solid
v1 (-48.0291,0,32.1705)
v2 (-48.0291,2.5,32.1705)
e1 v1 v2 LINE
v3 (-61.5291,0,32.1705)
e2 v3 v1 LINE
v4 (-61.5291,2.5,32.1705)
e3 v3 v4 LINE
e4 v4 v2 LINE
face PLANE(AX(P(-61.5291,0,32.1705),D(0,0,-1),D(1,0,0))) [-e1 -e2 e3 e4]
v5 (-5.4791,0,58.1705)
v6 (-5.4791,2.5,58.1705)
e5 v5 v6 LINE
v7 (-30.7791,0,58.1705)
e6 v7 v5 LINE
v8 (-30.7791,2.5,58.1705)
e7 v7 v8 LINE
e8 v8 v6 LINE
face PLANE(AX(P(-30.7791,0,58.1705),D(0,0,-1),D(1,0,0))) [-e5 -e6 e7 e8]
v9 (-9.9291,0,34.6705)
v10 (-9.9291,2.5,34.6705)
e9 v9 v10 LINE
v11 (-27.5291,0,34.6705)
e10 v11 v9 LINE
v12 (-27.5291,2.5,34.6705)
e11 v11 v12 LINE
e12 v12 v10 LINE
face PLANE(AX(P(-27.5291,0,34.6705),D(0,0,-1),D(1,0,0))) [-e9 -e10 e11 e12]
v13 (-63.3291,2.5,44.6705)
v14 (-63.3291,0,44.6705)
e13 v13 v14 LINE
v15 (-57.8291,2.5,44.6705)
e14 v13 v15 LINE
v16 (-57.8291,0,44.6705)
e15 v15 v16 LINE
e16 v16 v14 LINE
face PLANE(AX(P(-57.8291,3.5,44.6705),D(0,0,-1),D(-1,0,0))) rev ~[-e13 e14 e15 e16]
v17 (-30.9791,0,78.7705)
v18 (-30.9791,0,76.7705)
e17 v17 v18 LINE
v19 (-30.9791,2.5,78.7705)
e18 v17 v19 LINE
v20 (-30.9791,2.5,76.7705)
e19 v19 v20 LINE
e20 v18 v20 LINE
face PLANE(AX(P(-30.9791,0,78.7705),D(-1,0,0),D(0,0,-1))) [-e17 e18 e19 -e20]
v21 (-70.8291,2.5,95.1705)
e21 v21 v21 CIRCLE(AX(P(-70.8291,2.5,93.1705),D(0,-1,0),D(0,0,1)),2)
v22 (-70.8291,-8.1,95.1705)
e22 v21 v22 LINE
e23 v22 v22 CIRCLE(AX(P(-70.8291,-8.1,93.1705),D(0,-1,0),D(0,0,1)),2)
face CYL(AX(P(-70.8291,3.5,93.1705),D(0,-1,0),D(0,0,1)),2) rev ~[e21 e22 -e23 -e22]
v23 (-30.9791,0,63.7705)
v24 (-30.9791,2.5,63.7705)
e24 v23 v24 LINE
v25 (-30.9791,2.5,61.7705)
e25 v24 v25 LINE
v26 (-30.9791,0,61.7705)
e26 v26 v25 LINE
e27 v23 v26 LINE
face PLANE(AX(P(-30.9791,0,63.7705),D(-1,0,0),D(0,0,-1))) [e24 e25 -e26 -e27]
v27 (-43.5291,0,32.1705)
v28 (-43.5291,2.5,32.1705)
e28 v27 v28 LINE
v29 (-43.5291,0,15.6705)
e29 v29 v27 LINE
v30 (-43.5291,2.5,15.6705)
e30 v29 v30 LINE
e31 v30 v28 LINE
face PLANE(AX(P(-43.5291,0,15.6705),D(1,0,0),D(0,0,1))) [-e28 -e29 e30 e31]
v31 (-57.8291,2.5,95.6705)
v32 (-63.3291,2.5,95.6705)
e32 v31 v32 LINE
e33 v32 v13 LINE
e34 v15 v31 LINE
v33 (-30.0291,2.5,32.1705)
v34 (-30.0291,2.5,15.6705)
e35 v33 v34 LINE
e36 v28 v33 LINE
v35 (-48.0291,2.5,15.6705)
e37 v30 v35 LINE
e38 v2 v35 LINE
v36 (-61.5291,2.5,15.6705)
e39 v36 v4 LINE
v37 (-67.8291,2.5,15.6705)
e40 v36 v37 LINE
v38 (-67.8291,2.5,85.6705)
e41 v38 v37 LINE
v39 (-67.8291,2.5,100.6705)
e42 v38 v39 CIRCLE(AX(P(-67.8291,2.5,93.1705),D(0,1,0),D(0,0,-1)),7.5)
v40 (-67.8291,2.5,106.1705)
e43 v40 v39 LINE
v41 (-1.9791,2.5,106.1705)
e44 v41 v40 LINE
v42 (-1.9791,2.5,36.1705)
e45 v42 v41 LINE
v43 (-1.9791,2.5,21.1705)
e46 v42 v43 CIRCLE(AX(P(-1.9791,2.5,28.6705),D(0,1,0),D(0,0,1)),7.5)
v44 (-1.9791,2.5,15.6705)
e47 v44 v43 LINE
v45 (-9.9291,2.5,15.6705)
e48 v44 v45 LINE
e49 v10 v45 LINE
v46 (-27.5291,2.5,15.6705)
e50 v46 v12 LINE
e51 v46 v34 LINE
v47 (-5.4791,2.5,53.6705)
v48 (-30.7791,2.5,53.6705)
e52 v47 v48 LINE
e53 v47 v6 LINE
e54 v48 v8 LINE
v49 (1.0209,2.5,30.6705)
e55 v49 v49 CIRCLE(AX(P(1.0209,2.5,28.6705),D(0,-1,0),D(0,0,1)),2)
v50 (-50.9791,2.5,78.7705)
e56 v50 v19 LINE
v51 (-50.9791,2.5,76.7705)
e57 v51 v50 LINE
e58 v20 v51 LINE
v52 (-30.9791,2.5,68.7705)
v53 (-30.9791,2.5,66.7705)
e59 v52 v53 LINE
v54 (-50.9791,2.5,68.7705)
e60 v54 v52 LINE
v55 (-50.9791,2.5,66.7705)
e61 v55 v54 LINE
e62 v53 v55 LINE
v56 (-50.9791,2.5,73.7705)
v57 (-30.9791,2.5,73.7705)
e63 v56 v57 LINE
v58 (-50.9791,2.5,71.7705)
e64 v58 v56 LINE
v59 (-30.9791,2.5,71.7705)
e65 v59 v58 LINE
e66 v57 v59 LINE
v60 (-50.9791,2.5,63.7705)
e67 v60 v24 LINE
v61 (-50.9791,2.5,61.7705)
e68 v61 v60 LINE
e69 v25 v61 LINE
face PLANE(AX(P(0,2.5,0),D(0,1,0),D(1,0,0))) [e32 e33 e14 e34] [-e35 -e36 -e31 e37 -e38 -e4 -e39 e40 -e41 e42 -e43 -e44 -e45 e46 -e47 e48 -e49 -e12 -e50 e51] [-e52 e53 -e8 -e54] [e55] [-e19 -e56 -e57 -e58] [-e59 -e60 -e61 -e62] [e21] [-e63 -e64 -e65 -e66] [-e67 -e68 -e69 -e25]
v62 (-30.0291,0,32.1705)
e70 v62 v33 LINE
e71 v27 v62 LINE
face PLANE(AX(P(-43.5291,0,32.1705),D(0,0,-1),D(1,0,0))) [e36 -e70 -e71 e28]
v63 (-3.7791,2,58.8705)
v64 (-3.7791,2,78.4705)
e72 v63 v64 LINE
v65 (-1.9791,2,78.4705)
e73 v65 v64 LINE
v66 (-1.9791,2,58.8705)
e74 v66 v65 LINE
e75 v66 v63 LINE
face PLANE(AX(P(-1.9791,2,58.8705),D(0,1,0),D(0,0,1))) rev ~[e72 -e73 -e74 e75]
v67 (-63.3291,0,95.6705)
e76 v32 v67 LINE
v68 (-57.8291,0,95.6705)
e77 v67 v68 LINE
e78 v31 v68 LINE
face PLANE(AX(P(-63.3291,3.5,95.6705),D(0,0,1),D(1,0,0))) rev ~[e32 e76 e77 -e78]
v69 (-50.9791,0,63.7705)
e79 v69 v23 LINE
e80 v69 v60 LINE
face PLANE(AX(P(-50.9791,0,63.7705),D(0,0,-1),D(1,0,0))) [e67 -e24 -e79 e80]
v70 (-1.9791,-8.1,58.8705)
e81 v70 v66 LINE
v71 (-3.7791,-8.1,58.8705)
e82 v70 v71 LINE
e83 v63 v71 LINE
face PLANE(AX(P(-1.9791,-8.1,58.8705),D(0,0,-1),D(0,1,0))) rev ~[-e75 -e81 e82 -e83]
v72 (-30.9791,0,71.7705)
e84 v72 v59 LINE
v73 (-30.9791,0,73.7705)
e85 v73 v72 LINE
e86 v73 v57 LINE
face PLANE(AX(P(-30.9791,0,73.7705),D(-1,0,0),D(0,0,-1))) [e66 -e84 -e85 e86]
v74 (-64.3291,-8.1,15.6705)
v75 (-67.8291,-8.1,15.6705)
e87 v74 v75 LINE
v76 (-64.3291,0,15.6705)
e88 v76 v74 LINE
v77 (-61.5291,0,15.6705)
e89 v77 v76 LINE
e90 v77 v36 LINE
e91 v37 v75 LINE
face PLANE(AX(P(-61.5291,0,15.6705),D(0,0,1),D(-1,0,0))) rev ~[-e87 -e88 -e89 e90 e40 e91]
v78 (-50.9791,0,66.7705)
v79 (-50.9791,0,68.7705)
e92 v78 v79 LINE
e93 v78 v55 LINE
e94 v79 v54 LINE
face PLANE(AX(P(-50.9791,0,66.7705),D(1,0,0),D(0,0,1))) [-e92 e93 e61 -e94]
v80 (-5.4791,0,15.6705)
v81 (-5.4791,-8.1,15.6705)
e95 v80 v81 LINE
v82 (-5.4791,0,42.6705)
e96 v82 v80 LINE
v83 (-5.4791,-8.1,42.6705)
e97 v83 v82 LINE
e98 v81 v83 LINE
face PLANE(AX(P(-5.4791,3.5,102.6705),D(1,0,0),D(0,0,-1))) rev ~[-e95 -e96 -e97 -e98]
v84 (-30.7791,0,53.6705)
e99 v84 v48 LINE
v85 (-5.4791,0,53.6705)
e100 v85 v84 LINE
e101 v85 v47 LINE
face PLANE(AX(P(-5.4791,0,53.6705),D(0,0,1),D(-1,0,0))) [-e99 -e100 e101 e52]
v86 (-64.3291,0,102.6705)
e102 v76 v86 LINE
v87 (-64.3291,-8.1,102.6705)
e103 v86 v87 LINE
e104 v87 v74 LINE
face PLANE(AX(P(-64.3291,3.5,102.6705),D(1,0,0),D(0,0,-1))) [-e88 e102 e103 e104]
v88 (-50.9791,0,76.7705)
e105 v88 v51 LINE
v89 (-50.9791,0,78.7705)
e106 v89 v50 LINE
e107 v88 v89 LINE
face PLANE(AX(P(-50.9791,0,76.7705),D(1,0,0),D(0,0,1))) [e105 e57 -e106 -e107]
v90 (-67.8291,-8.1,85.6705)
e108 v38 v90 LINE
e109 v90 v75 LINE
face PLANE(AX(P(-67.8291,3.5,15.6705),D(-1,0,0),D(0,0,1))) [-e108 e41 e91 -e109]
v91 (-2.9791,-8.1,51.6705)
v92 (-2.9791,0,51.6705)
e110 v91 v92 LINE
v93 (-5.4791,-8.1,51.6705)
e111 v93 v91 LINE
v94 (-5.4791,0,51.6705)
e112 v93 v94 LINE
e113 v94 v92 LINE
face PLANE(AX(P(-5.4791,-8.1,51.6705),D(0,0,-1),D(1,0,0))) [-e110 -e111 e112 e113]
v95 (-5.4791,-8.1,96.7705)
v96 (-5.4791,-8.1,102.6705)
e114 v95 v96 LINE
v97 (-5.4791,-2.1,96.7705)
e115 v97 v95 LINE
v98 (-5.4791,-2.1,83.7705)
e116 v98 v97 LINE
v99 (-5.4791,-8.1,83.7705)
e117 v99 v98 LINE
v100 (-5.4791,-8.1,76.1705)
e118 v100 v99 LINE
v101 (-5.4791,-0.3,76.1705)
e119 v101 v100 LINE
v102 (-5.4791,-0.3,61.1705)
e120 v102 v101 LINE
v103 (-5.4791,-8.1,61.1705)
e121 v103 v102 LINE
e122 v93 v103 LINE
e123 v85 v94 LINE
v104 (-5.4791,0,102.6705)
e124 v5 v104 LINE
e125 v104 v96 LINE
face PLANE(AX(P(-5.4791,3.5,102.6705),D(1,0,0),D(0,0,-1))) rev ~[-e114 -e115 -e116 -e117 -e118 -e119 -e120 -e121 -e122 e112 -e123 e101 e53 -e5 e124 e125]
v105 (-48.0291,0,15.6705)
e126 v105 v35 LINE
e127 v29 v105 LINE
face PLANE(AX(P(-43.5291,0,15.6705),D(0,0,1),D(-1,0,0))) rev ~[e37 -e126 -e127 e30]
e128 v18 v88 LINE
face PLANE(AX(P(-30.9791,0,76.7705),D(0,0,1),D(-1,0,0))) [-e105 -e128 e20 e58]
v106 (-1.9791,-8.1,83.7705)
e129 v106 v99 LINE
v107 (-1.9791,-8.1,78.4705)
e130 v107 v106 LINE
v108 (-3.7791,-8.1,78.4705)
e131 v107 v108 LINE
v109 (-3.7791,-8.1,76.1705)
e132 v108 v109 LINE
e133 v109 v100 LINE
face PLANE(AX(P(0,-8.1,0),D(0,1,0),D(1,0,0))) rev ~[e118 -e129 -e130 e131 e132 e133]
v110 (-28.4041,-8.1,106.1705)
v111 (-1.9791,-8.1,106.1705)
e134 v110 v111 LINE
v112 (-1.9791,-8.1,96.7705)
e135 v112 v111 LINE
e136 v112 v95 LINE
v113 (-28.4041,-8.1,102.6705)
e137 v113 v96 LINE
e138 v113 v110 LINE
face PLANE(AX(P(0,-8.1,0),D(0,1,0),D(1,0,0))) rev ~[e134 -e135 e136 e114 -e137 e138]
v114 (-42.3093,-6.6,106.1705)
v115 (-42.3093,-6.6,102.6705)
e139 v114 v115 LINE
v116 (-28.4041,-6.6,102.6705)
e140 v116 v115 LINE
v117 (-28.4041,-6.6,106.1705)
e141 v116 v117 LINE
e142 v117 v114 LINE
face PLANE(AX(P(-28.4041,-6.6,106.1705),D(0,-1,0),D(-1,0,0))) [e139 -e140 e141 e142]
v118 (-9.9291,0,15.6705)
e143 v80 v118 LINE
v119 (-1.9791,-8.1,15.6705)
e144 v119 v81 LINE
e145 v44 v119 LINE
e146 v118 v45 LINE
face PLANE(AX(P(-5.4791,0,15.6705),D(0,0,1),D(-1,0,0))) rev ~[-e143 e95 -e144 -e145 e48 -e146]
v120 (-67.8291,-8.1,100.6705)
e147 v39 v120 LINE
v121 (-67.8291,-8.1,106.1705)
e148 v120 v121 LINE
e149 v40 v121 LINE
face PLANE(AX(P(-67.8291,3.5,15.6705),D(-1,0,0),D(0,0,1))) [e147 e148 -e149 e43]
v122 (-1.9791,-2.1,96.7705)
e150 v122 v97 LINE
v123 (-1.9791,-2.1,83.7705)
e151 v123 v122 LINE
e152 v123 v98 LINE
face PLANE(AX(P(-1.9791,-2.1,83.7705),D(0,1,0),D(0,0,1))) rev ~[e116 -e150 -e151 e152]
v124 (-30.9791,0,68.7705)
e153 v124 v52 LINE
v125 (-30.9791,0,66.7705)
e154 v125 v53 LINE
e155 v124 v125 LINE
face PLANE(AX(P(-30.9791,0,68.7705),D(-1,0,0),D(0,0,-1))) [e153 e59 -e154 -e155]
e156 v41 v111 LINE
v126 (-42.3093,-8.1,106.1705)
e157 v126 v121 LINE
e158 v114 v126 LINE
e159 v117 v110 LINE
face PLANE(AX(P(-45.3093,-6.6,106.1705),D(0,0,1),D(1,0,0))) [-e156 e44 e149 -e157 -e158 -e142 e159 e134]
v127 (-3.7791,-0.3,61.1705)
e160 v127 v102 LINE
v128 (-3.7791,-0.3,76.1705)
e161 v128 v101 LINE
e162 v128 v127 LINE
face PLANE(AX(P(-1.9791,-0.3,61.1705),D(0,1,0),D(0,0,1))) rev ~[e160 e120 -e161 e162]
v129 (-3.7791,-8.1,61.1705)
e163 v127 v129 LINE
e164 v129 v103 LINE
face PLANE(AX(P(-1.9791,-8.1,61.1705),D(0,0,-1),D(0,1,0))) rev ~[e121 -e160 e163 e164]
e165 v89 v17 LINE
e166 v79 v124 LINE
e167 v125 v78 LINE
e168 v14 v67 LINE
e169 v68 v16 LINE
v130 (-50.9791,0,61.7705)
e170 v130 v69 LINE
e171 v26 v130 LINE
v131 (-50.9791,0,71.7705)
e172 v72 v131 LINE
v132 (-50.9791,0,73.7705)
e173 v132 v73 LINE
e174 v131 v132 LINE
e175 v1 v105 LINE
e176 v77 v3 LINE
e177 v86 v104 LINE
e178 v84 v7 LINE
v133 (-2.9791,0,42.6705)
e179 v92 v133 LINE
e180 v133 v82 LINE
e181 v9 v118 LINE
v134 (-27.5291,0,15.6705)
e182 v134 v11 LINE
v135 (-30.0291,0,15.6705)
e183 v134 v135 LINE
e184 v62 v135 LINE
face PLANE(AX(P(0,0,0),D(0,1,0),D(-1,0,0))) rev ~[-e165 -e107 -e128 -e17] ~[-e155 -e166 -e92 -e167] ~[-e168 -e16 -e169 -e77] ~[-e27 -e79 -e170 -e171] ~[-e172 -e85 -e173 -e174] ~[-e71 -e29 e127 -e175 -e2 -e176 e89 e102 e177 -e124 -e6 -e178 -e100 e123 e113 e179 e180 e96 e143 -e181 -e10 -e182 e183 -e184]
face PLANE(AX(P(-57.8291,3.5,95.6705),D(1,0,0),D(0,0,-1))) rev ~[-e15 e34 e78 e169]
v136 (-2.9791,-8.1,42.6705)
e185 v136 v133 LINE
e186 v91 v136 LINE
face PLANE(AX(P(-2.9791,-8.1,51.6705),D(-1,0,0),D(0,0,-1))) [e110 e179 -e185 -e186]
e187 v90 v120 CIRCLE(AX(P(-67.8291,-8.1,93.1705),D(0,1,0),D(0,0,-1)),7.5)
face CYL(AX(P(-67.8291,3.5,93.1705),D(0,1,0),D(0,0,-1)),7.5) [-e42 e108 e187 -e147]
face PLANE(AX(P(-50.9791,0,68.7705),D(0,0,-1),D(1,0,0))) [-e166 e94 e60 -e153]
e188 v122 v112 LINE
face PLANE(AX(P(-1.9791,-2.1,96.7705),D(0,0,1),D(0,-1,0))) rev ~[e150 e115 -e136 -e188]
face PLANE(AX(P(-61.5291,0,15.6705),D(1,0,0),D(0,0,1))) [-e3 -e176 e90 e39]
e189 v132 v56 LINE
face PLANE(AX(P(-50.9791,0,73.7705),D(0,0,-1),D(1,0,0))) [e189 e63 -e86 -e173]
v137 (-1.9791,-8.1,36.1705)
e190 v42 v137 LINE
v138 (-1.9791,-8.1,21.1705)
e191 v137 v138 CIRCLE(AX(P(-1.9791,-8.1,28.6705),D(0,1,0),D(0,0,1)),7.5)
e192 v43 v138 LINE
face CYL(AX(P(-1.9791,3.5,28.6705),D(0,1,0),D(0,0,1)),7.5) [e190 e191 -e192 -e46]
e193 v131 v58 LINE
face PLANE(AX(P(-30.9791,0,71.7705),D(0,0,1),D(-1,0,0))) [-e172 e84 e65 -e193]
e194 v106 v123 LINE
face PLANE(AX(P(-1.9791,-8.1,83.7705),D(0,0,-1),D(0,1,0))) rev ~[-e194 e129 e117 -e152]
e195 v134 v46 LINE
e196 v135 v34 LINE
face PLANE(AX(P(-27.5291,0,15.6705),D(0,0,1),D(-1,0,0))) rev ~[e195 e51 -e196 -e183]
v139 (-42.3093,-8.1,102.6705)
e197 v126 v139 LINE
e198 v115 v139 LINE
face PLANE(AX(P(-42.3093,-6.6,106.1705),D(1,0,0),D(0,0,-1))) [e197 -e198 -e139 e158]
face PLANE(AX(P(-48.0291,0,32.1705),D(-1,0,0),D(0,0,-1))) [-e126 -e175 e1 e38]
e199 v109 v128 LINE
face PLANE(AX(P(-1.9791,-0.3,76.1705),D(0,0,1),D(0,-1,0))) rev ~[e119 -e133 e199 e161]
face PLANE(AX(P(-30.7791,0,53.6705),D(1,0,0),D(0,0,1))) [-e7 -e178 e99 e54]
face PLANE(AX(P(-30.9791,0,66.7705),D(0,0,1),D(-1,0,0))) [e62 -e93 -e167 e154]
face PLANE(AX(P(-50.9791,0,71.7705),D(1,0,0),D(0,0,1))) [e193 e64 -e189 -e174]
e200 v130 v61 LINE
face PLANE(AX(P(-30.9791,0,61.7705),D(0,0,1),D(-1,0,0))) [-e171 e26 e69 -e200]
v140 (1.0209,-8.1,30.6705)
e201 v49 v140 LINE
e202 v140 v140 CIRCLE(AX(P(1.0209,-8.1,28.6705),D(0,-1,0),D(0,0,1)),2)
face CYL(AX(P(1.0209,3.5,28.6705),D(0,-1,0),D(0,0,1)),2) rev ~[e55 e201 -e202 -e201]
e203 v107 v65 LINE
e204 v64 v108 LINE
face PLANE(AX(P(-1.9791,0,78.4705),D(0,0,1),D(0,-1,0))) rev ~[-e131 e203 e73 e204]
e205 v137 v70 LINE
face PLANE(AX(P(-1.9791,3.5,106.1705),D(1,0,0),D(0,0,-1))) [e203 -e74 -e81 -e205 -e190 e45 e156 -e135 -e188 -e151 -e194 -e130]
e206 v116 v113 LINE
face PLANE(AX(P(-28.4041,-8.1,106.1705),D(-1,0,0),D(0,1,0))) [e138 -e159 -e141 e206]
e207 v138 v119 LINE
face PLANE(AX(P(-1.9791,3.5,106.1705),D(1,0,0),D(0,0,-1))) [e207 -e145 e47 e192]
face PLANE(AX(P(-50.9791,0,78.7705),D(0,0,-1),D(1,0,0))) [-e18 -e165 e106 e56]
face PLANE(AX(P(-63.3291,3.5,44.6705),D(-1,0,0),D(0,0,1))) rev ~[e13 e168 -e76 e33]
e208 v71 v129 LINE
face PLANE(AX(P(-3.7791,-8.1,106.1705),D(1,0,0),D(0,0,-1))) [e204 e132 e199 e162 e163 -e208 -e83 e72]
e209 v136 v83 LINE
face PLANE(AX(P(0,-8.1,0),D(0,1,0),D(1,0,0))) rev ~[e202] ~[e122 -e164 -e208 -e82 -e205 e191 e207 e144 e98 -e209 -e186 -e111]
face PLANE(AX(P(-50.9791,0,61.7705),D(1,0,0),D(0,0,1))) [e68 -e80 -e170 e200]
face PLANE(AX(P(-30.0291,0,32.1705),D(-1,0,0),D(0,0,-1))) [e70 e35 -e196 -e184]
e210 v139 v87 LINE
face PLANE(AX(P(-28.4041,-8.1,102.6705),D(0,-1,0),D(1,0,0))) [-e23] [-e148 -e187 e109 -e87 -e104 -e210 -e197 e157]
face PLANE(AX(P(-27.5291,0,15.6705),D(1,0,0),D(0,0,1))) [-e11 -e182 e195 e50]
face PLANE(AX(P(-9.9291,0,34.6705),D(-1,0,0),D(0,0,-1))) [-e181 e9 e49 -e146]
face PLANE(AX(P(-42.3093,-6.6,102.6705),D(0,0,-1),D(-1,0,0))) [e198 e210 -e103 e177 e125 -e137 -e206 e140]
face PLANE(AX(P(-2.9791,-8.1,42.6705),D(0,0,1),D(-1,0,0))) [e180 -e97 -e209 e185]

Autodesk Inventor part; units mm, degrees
ref_plane "YZ Plane" through (0, 0, 0) normal (1, 0, 0) x (0, 1, 0)
ref_plane "XZ Plane" through (0, 0, 0) normal (0, 1, 0) x (-1, 0, 0)
ref_plane "XY Plane" through (0, 0, 0) normal (0, 0, 1) x (1, 0, 0)
sketch "Skizze1" plane through (0, 0, 0) normal (0, 1, 0) x (-1, 0, 0)
  line L0 (64.3291, 15.6705) -> (64.3291, 102.6705)
  line L1 (64.3291, 102.6705) -> (5.4791, 102.6705)
  line L2 (61.5291, 32.1705) -> (48.0291, 32.1705)
  line L3 (48.0291, 32.1705) -> (48.0291, 15.6705)
  line L4 (61.5291, 15.6705) -> (61.5291, 32.1705)
  line L5 (43.5291, 32.1705) -> (30.0291, 32.1705)
  line L6 (30.0291, 32.1705) -> (30.0291, 15.6705)
  line L7 (30.0291, 15.6705) -> (30.7791, 15.6705)
  line L8 (43.5291, 15.6705) -> (43.5291, 32.1705)
  line L9 (27.5291, 34.6705) -> (9.9291, 34.6705)
  line L10 (9.9291, 34.6705) -> (9.9291, 15.6705)
  line L11 (27.5291, 15.6705) -> (27.5291, 34.6705)
  line L12 (30.7791, 58.1705) -> (5.4791, 58.1705)
  line L13 (5.4791, 53.6705) -> (30.7791, 53.6705)
  line L14 (30.7791, 53.6705) -> (30.7791, 58.1705)
  line L15 (5.4791, 102.6705) -> (5.4791, 58.1705)
  line L16 (5.4791, 53.6705) -> (5.4791, 15.6705)
  line L17 (43.5291, 15.6705) -> (48.0291, 15.6705)
  line L18 (61.5291, 15.6705) -> (64.3291, 15.6705)
  line L19 (50.9791, 78.7705) -> (30.9791, 78.7705)
  line L20 (30.9791, 78.7705) -> (30.9791, 76.7705)
  line L21 (30.9791, 76.7705) -> (50.9791, 76.7705)
  line L22 (50.9791, 76.7705) -> (50.9791, 78.7705)
  line L23 (50.9791, 73.7705) -> (30.9791, 73.7705)
  line L24 (30.9791, 73.7705) -> (30.9791, 71.7705)
  line L25 (30.9791, 71.7705) -> (50.9791, 71.7705)
  line L26 (50.9791, 71.7705) -> (50.9791, 73.7705)
  line L27 (50.9791, 68.7705) -> (30.9791, 68.7705)
  line L28 (30.9791, 68.7705) -> (30.9791, 66.7705)
  line L29 (30.9791, 66.7705) -> (50.9791, 66.7705)
  line L30 (50.9791, 66.7705) -> (50.9791, 68.7705)
  line L31 (50.9791, 63.7705) -> (30.9791, 63.7705)
  line L32 (30.9791, 63.7705) -> (30.9791, 61.7705)
  line L33 (30.9791, 61.7705) -> (50.9791, 61.7705)
  line L34 (50.9791, 61.7705) -> (50.9791, 63.7705)
  line L35 (5.4791, 15.6705) -> (9.9291, 15.6705)
  line L36 (27.5291, 15.6705) -> (30.0291, 15.6705)
  line L37 (5.4791, 58.1705) -> (5.4791, 63.7705)
  line L38 (62.9791, 94.6705) -> (57.4791, 94.6705)
  line L39 (57.4791, 94.6705) -> (57.4791, 41.6705)
  line L40 (57.4791, 41.6705) -> (62.9791, 41.6705)
  line L41 (62.9791, 41.6705) -> (62.9791, 94.6705)
  dimension "d2" = 13.5
  dimension "d3" = 13.5
  dimension "d45" = 2.8
  dimension "d46" = 4.5
  dimension "d47" = 2.5
  dimension "d49" = 42.5
  dimension "d51" = 49
  dimension "d60" = 53
  dimension "d61" = 8
  dimension "d62" = 5.5
  dimension "d63" = 1.35
  dimension "d70" = 87
  dimension "d71" = 87
  dimension "d107" = 4.45
  dimension "d108" = 38
  dimension "d110" = 17.6
  dimension "d141" = 25.3
  dimension "d142" = 19
sketch "Skizze2" plane through (0, 0, 0) normal (0, 1, 0) x (-1, 0, 0)
  point P0 (0, 0)
extrude "Extrusion1" add sketch "Skizze1" along normal blind 3.5 contours L18 L4 L2 L3 L17 L8 L5 L6 L36 L11 L9 L10 L35 L16 L13 L14 L12 L15 L1 L0 | L41 L40 L39 L38
sketch "Skizze3" plane through (0, 0, 0) normal (0, -1, 0) x (1, 0, 0)
  line L0 (-9.9291, 15.6705) -> (-5.4791, 15.6705) projected
  line L1 (-64.3291, 102.6705) -> (-5.4791, 102.6705) projected
  line L2 (-5.4791, 15.6705) -> (-5.4791, 102.6705)
  line L3 (-5.4791, 102.6705) -> (-64.3291, 102.6705)
  line L4 (-64.3291, 102.6705) -> (-64.3291, 15.6705)
  point P0 (0, 0)
sketch "Skizze4" plane through (0, 0, 0) normal (0, -1, 0) x (1, 0, 0)
  line L0 (-30.7791, 53.6705) -> (-5.4791, 53.6705) projected
  line L1 (-5.4791, 53.6705) -> (-5.4791, 15.6705) projected
  line L2 (-5.4791, 15.6705) -> (-5.4791, 102.6705)
  line L3 (-64.3291, 102.6705) -> (-5.4791, 102.6705) projected
  line L4 (-5.4791, 102.6705) -> (-64.3291, 102.6705)
  line L5 (-61.5291, 15.6705) -> (-64.3291, 15.6705) projected
  line L6 (-64.3291, 102.6705) -> (-64.3291, 15.6705)
  point P0 (0, 0)
  point P1 (-5.4791, 68.3705)
  point P2 (-5.4791, 63.3705)
sketch "Skizze5" plane through (0, 3.5, 0) normal (0, 1, 0) x (1, 0, 0)
  point P0 (0, 0)
sketch "Skizze6" plane through (0, 3.5, 0) normal (0, 1, 0) x (1, 0, 0)
  point P0 (0, 0)
sketch "Skizze7" plane through (0, 3.5, 0) normal (0, 1, 0) x (1, 0, 0)
  point P0 (0, 0)
sketch "Skizze8" plane through (0, 3.5, 0) normal (0, 1, 0) x (1, 0, 0)
  point P0 (0, 0)
sketch "Skizze9" plane through (0, 3.5, 0) normal (0, 1, 0) x (1, 0, 0)
  point P0 (0, 0)
sketch "Skizze10" plane through (0, 3.5, 0) normal (0, 1, 0) x (1, 0, 0)
  line L0 (-57.8291, -44.6705) -> (-63.3291, -44.6705)
  line L1 (-63.3291, -44.6705) -> (-63.3291, -95.6705)
  line L2 (-63.3291, -95.6705) -> (-57.8291, -95.6705)
  line L3 (-57.8291, -95.6705) -> (-57.8291, -44.6705)
  line L4 (-64.3291, -102.6705) -> (-5.4791, -102.6705) projected
  line L5 (-64.3291, -15.6705) -> (-64.3291, -102.6705) projected
  point P0 (0, 0)
  dimension "d64" = 51
  dimension "d65" = 5.5
  dimension "d66" = 7
  dimension "d67" = 1
extrude "Extrusion2" cut sketch "Skizze10" against normal through all
sketch "Skizze11" plane through (0, 3.5, 0) normal (0, 1, 0) x (1, 0, 0)
  line L0 (-64.3291, -102.6705) -> (-64.3291, -15.6705) projected
  line L1 (-64.3291, -15.6705) -> (-64.3291, -102.6705) projected
  line L2 (-64.3291, -15.6705) -> (-67.8291, -15.6705)
  line L3 (-67.8291, -15.6705) -> (-67.8291, -106.1705)
  line L4 (-67.8291, -106.1705) -> (-1.9791, -106.1705)
  line L5 (-1.9791, -106.1705) -> (-1.9791, -15.6705)
  line L6 (-1.9791, -15.6705) -> (-5.4791, -15.6705)
  line L7 (-64.3291, -102.6705) -> (-5.4791, -102.6705) projected
  line L8 (-5.4791, -102.6705) -> (-64.3291, -102.6705)
  line L9 (-64.3291, -102.6705) -> (-64.3291, -15.6705)
  line L10 (-64.3291, -15.6705) -> (-64.3291, -102.6705)
  line L11 (-5.4791, -53.6705) -> (-5.4791, -15.6705) projected
  line L12 (-5.4791, -102.6705) -> (-5.4791, -15.6705)
  line L13 (-5.4791, -15.6705) -> (-1.9791, -15.6705)
  point P0 (0, 0)
  dimension "d77" = 3.5
  dimension "d78" = 3.5
  dimension "d79" = 3.5
sketch "Skizze12" plane through (0, 0, 0) normal (0, -1, 0) x (1, 0, 0)
  line L0 (-5.4791, 15.6705) -> (-9.9291, 15.6705) projected
  line L1 (-5.4791, 102.6705) -> (-5.4791, 58.1705) projected
  line L2 (-5.4791, 15.6705) -> (-5.4791, 102.6705)
  line L3 (-5.4791, 102.6705) -> (-64.3291, 102.6705)
  line L4 (-64.3291, 102.6705) -> (-64.3291, 15.6705)
  point P0 (0, 0)
extrude "Extrusion3" add sketch "Skizze11" against normal blind 11.6
sketch "Skizze13" plane through (0, 3.5, 0) normal (0, 1, 0) x (1, 0, 0)
  line L0 (-67.8291, -15.6705) -> (-67.8291, -106.1705) projected
  arc A0 (-67.8291, -85.6705) -> (-67.8291, -100.6705) centre (-67.8291, -93.1705) ccw
  arc A1 (-67.8291, -21.1705) -> (-67.8291, -36.1705) centre (-67.8291, -28.6705) ccw
  arc A2 (-1.9791, -36.1705) -> (-1.9791, -21.1705) centre (-1.9791, -28.6705) ccw
  arc A3 (-1.9791, -100.6705) -> (-1.9791, -85.6705) centre (-1.9791, -93.1705) ccw
  line L1 (-67.8291, -106.1705) -> (-1.9791, -106.1705) projected
  line L2 (-1.9791, -15.6705) -> (-9.9291, -15.6705) projected
  line L3 (-1.9791, -106.1705) -> (-1.9791, -15.6705) projected
  point P0 (0, 0)
  dimension "d82" = 15
  dimension "d83" = 15
  dimension "d84" = 15
  dimension "d85" = 15
  dimension "d86" = 13
  dimension "d87" = 13
  dimension "d88" = 13
  dimension "d89" = 13
extrude "Extrusion4" add sketch "Skizze13" against normal blind 11.6
sketch "Skizze14" plane through (0, 3.5, 0) normal (0, 1, 0) x (1, 0, 0)
  arc A0 (-1.9791, -36.1705) -> (-1.9791, -21.1705) centre (-1.9791, -28.6705) ccw projected
  arc A1 (-1.9791, -100.6705) -> (-1.9791, -85.6705) centre (-1.9791, -93.1705) ccw projected
  arc A2 (-67.8291, -85.6705) -> (-67.8291, -100.6705) centre (-67.8291, -93.1705) ccw projected
  arc A3 (-67.8291, -21.1705) -> (-67.8291, -36.1705) centre (-67.8291, -28.6705) ccw projected
  point P0 (0, 0)
  point P1 (-70.8291, -93.1705)
  point P2 (-70.8291, -28.6705)
  point P3 (1.0209, -93.1705)
  point P4 (1.0209, -28.6705)
  dimension "d92" = 0
  dimension "d93" = 3
  dimension "d94" = 0
  dimension "d95" = 3
  dimension "d96" = 0
  dimension "d97" = 3
  dimension "d98" = 0
  dimension "d99" = 3
hole "Bohrung1" at (-70.8291, 3.5, 28.6705) at (1.0209, 3.5, 28.6705) at (1.0209, 3.5, 93.1705) at (-70.8291, 3.5, 93.1705) direction (0, -1, 0) diameter 4 end through all
sketch "Skizze15" plane through (0, 3.5, 0) normal (0, 1, 0) x (1, 0, 0)
  point P0 (0, 0)
sketch "Skizze16" plane through (0, 3.5, 0) normal (0, 1, 0) x (1, 0, 0)
  point P0 (0, 0)
sketch "Skizze17" plane through (-9.9291, 0, 15.6705) normal (0, 0, -1) x (-1, 0, 0)
  point P0 (-9.9291, 0)
sketch "Skizze18" plane through (0, 3.5, 0) normal (0, 1, 0) x (1, 0, 0)
  line L0 (-1.9791, -106.1705) -> (-1.9791, -100.6705) projected
  line L1 (-1.9791, -103.4205) -> (11.4811, -103.4205)
  line L2 (11.4811, -103.4205) -> (11.4811, -74.2753)
  line L3 (11.4811, -74.2753) -> (-1.9791, -74.2753)
  line L4 (-1.9791, -74.2753) -> (-1.9791, -103.4205)
  line L5 (-67.8291, -36.1705) -> (-67.8291, -85.6705) projected
  line L6 (-67.8291, -38.1575) -> (-77.5027, -38.1575)
  line L7 (-77.5027, -38.1575) -> (-77.5027, -17.1859)
  line L8 (-77.5027, -17.1859) -> (-67.8291, -17.1859)
  line L9 (-67.8291, -17.1859) -> (-67.8291, -38.1575)
  point P0 (0, 0)
extrude "Extrusion5" cut sketch "Skizze18" against normal blind 20
sketch "Skizze19" plane through (0, 3.5, 0) normal (0, 1, 0) x (1, 0, 0)
  point P0 (0, 0)
sketch "Skizze20" plane through (-67.8291, 3.5, 106.1705) normal (0, 0, 1) x (1, 0, 0)
  point P0 (67.8291, -3.5)
sketch "Skizze21" plane through (-67.8291, 3.5, 106.1705) normal (0, 0, 1) x (1, 0, 0)
  line L0 (65.85, -11.6) -> (0, -11.6) projected
  line L1 (26.425, -11.6) -> (39.425, -11.6)
  line L2 (39.425, -11.6) -> (39.425, -10.1)
  line L3 (39.425, -10.1) -> (26.425, -10.1)
  line L4 (26.425, -10.1) -> (26.425, -11.6)
  line L5 (65.85, 0) -> (65.85, -11.6) projected
  point P0 (67.8291, -3.5)
  dimension "d113" = 13
  dimension "d114" = 1.5
  dimension "d115" = 26.425
extrude "Extrusion6" cut sketch "Skizze21" along normal mid plane 20
sketch "Skizze22" plane through (0, 3.5, 0) normal (0, 1, 0) x (1, 0, 0)
  point P0 (0, 0)
sketch "Skizze23" plane through (0, 3.5, 0) normal (0, 1, 0) x (1, 0, 0)
  point P0 (0, 0)
sketch "Skizze24" plane through (-1.9791, -8.1, 106.1705) normal (1, 0, 0) x (0, 0, -1)
  line L0 (5.5, 0) -> (20.5, 0) projected
  line L1 (7.3789, 0) -> (15, 0)
  line L2 (90.5, 0) -> (3.5, 0) projected
  line L3 (30, 0) -> (45, 0)
  line L4 (45, 0) -> (45, 7.8)
  line L5 (45, 7.8) -> (30, 7.8)
  line L6 (30, 7.8) -> (30, 0)
  line L7 (9.4, 0) -> (22.4, 0)
  line L8 (22.4, 0) -> (22.4, 6)
  line L9 (22.4, 6) -> (9.4, 6)
  line L10 (9.4, 6) -> (9.4, 0)
  line L11 (0, 11.6) -> (0, 0) projected
  point P0 (106.1705, 8.1)
  point P1 (15.9, 6)
  dimension "d118" = 15
  dimension "d119" = 13
  dimension "d120" = 6
  dimension "d121" = 15.9
  dimension "d122" = 7.8
  dimension "d123" = 45
sketch "Skizze25" plane through (0, -8.1, 0) normal (0, -1, 0) x (1, 0, 0)
  point P0 (0, 0)
extrude "Extrusion7" cut sketch "Skizze24" against normal blind 20
sketch "Skizze26" plane through (-1.9791, -8.1, 106.1705) normal (1, 0, 0) x (0, 0, -1)
  line L0 (20.5, 0) -> (90.5, 0) projected
  line L1 (44.8289, 0) -> (47.7248, 0)
  point P0 (106.1705, 8.1)
sketch "Skizze27" plane through (-1.9791, -8.1, 106.1705) normal (1, 0, 0) x (0, 0, -1)
  line L0 (20.5, 0) -> (90.5, 0) projected
  line L1 (45.0921, 0) -> (47.3, 0)
  line L2 (47.3, 0) -> (47.3, 10.1)
  line L3 (10.5, 8.1) -> (61.5, 8.1) projected
  line L4 (47.3, 10.1) -> (27.7, 10.1)
  line L5 (27.7, 10.1) -> (27.7, 0)
  line L6 (27.7, 0) -> (30, 0)
  line L7 (30, 0) -> (30, 7.8) projected
  line L8 (30, 0) -> (30, 7.8)
  line L9 (45, 7.8) -> (45, 0) projected
  line L10 (30, 7.8) -> (45, 7.8)
  line L11 (45, 7.8) -> (45, 0)
  line L12 (45, 0) -> (47.3, 0)
  line L13 (70, 0) -> (70, 11.6) projected
  point P0 (106.1705, 8.1)
  dimension "d126" = 2.3
  dimension "d127" = 2.3
  dimension "d128" = 2.3
extrude "Extrusion8" cut sketch "Skizze27" against normal blind 1.8 contours L5 L3 L2 L0 L9 L10 L7 | L5 L4 L2 L3
sketch "Skizze28" plane through (-1.9791, -8.1, 106.1705) normal (1, 0, 0) x (0, 0, -1)
  point P0 (106.1705, 8.1)
sketch "Skizze29" plane through (0, -8.1, 0) normal (0, -1, 0) x (1, 0, 0)
  point P0 (0, 0)
sketch "Skizze30" plane through (0, 3.5, 0) normal (0, 1, 0) x (1, 0, 0)
  point P0 (0, 0)
sketch "Skizze31" plane through (0, -8.1, 0) normal (0, -1, 0) x (1, 0, 0)
  line L0 (-5.4791, 15.6705) -> (-5.4791, 53.6705) projected
  line L1 (-5.4791, 51.6705) -> (-2.9791, 51.6705)
  line L2 (-2.9791, 51.6705) -> (-2.9791, 42.6705)
  line L3 (-2.9791, 42.6705) -> (-5.4791, 42.6705)
  line L4 (-5.4791, 15.6705) -> (-1.9791, 15.6705) projected
  point P0 (0, 0)
  dimension "d131" = 36
  dimension "d132" = 27
  dimension "d133" = 2.5
sketch "Skizze32" plane through (-5.4791, 3.5, 53.6705) normal (-1, 0, 0) x (0, 0, 1)
  point P0 (-53.6705, -3.5)
extrude "Extrusion9" cut sketch "Skizze31" against normal blind 8.1
sketch "Skizze33" plane through (0, -8.1, 0) normal (0, -1, 0) x (1, 0, 0)
  line L0 (-67.8291, 106.1705) -> (-1.9791, 106.1705) projected
  line L1 (-41.3093, 106.1705) -> (-45.3093, 106.1705)
  line L2 (-45.3093, 106.1705) -> (-45.3093, 102.6705)
  line L3 (-5.4791, 102.6705) -> (-64.3291, 102.6705) projected
  line L4 (-41.3093, 102.6705) -> (-41.3093, 106.1705)
  point P0 (0, 0)
sketch "Skizze34" plane through (-41.4041, -8.1, 106.1705) normal (1, 0, 0) x (0, 0, -1)
  point P0 (106.1705, 8.1)
extrude "Extrusion10" cut sketch "Skizze33" against normal blind 1.5
sketch "Skizze35" plane through (0, 3.5, 0) normal (0, 1, 0) x (1, 0, 0)
  point P0 (0, 0)
sketch "Skizze36" plane through (0, 3.5, 0) normal (0, 1, 0) x (1, 0, 0)
  point P0 (0, 0)
sketch "Skizze37" plane through (-9.9291, 0, 34.6705) normal (0, 0, -1) x (-1, 0, 0)
  point P0 (-9.9291, 0)
sketch "Skizze38" plane through (0, 3.5, 0) normal (0, 1, 0) x (1, 0, 0)
  line L0 (-78.4732, -10.8186) -> (12.9519, -10.8186)
  line L1 (12.9519, -10.8186) -> (12.9519, -110.1672)
  line L2 (12.9519, -110.1672) -> (-78.4732, -110.1672)
  line L3 (-78.4732, -110.1672) -> (-78.4732, -10.8186)
  point P0 (0, 0)
extrude "Extrusion11" cut sketch "Skizze38" against normal blind 1
sketch "Skizze39" plane through (0, -8.1, 0) normal (0, -1, 0) x (1, 0, 0)
  point P0 (0, 0)
sketch "Skizze40" plane through (-28.4041, -8.1, 106.1705) normal (0, 0, 1) x (1, 0, 0)
  point P0 (28.4041, 8.1)
sketch "Skizze41" plane through (0, 2.5, 0) normal (0, 1, 0) x (1, 0, 0)
  point P0 (0, 0)
sketch "Skizze42" plane through (0, 2.5, 0) normal (0, 1, 0) x (1, 0, 0)
  point P0 (0, 0)
sketch "Skizze43" plane through (-30.0291, 0, 32.1705) normal (0, 0, -1) x (-1, 0, 0)
  point P0 (-30.0291, 0)
sketch "Skizze44" plane through (-9.9291, 0, 34.6705) normal (0, 0, -1) x (-1, 0, 0)
  point P0 (-9.9291, 0)
sketch "Skizze45" plane through (0, 2.5, 0) normal (0, 1, 0) x (1, 0, 0)
  point P0 (0, 0)
sketch "Skizze46" plane through (-28.4041, -6.6, 102.6705) normal (0, -1, 0) x (1, 0, 0)
  line L0 (0, 0) -> (-16.9052, 0) projected
  line L1 (-16.9052, 0) -> (-16.9052, 3.5) projected
  line L2 (-16.9052, 3.5) -> (0, 3.5) projected
  line L3 (-16.9052, 3.5) -> (-13.9052, 3.5)
  line L4 (-13.9052, 3.5) -> (-13.9052, 0)
  line L5 (-13.9052, 0) -> (-16.9052, 0)
  line L6 (-16.9052, 0) -> (-16.9052, 3.5)
  point P0 (28.4041, -102.6705)
  dimension "d143" = 3
  dimension "d144" = 3.5
extrude "Extrusion12" add sketch "Skizze46" along normal blind 1.5
properties part number "Oberteil_fertig2"
